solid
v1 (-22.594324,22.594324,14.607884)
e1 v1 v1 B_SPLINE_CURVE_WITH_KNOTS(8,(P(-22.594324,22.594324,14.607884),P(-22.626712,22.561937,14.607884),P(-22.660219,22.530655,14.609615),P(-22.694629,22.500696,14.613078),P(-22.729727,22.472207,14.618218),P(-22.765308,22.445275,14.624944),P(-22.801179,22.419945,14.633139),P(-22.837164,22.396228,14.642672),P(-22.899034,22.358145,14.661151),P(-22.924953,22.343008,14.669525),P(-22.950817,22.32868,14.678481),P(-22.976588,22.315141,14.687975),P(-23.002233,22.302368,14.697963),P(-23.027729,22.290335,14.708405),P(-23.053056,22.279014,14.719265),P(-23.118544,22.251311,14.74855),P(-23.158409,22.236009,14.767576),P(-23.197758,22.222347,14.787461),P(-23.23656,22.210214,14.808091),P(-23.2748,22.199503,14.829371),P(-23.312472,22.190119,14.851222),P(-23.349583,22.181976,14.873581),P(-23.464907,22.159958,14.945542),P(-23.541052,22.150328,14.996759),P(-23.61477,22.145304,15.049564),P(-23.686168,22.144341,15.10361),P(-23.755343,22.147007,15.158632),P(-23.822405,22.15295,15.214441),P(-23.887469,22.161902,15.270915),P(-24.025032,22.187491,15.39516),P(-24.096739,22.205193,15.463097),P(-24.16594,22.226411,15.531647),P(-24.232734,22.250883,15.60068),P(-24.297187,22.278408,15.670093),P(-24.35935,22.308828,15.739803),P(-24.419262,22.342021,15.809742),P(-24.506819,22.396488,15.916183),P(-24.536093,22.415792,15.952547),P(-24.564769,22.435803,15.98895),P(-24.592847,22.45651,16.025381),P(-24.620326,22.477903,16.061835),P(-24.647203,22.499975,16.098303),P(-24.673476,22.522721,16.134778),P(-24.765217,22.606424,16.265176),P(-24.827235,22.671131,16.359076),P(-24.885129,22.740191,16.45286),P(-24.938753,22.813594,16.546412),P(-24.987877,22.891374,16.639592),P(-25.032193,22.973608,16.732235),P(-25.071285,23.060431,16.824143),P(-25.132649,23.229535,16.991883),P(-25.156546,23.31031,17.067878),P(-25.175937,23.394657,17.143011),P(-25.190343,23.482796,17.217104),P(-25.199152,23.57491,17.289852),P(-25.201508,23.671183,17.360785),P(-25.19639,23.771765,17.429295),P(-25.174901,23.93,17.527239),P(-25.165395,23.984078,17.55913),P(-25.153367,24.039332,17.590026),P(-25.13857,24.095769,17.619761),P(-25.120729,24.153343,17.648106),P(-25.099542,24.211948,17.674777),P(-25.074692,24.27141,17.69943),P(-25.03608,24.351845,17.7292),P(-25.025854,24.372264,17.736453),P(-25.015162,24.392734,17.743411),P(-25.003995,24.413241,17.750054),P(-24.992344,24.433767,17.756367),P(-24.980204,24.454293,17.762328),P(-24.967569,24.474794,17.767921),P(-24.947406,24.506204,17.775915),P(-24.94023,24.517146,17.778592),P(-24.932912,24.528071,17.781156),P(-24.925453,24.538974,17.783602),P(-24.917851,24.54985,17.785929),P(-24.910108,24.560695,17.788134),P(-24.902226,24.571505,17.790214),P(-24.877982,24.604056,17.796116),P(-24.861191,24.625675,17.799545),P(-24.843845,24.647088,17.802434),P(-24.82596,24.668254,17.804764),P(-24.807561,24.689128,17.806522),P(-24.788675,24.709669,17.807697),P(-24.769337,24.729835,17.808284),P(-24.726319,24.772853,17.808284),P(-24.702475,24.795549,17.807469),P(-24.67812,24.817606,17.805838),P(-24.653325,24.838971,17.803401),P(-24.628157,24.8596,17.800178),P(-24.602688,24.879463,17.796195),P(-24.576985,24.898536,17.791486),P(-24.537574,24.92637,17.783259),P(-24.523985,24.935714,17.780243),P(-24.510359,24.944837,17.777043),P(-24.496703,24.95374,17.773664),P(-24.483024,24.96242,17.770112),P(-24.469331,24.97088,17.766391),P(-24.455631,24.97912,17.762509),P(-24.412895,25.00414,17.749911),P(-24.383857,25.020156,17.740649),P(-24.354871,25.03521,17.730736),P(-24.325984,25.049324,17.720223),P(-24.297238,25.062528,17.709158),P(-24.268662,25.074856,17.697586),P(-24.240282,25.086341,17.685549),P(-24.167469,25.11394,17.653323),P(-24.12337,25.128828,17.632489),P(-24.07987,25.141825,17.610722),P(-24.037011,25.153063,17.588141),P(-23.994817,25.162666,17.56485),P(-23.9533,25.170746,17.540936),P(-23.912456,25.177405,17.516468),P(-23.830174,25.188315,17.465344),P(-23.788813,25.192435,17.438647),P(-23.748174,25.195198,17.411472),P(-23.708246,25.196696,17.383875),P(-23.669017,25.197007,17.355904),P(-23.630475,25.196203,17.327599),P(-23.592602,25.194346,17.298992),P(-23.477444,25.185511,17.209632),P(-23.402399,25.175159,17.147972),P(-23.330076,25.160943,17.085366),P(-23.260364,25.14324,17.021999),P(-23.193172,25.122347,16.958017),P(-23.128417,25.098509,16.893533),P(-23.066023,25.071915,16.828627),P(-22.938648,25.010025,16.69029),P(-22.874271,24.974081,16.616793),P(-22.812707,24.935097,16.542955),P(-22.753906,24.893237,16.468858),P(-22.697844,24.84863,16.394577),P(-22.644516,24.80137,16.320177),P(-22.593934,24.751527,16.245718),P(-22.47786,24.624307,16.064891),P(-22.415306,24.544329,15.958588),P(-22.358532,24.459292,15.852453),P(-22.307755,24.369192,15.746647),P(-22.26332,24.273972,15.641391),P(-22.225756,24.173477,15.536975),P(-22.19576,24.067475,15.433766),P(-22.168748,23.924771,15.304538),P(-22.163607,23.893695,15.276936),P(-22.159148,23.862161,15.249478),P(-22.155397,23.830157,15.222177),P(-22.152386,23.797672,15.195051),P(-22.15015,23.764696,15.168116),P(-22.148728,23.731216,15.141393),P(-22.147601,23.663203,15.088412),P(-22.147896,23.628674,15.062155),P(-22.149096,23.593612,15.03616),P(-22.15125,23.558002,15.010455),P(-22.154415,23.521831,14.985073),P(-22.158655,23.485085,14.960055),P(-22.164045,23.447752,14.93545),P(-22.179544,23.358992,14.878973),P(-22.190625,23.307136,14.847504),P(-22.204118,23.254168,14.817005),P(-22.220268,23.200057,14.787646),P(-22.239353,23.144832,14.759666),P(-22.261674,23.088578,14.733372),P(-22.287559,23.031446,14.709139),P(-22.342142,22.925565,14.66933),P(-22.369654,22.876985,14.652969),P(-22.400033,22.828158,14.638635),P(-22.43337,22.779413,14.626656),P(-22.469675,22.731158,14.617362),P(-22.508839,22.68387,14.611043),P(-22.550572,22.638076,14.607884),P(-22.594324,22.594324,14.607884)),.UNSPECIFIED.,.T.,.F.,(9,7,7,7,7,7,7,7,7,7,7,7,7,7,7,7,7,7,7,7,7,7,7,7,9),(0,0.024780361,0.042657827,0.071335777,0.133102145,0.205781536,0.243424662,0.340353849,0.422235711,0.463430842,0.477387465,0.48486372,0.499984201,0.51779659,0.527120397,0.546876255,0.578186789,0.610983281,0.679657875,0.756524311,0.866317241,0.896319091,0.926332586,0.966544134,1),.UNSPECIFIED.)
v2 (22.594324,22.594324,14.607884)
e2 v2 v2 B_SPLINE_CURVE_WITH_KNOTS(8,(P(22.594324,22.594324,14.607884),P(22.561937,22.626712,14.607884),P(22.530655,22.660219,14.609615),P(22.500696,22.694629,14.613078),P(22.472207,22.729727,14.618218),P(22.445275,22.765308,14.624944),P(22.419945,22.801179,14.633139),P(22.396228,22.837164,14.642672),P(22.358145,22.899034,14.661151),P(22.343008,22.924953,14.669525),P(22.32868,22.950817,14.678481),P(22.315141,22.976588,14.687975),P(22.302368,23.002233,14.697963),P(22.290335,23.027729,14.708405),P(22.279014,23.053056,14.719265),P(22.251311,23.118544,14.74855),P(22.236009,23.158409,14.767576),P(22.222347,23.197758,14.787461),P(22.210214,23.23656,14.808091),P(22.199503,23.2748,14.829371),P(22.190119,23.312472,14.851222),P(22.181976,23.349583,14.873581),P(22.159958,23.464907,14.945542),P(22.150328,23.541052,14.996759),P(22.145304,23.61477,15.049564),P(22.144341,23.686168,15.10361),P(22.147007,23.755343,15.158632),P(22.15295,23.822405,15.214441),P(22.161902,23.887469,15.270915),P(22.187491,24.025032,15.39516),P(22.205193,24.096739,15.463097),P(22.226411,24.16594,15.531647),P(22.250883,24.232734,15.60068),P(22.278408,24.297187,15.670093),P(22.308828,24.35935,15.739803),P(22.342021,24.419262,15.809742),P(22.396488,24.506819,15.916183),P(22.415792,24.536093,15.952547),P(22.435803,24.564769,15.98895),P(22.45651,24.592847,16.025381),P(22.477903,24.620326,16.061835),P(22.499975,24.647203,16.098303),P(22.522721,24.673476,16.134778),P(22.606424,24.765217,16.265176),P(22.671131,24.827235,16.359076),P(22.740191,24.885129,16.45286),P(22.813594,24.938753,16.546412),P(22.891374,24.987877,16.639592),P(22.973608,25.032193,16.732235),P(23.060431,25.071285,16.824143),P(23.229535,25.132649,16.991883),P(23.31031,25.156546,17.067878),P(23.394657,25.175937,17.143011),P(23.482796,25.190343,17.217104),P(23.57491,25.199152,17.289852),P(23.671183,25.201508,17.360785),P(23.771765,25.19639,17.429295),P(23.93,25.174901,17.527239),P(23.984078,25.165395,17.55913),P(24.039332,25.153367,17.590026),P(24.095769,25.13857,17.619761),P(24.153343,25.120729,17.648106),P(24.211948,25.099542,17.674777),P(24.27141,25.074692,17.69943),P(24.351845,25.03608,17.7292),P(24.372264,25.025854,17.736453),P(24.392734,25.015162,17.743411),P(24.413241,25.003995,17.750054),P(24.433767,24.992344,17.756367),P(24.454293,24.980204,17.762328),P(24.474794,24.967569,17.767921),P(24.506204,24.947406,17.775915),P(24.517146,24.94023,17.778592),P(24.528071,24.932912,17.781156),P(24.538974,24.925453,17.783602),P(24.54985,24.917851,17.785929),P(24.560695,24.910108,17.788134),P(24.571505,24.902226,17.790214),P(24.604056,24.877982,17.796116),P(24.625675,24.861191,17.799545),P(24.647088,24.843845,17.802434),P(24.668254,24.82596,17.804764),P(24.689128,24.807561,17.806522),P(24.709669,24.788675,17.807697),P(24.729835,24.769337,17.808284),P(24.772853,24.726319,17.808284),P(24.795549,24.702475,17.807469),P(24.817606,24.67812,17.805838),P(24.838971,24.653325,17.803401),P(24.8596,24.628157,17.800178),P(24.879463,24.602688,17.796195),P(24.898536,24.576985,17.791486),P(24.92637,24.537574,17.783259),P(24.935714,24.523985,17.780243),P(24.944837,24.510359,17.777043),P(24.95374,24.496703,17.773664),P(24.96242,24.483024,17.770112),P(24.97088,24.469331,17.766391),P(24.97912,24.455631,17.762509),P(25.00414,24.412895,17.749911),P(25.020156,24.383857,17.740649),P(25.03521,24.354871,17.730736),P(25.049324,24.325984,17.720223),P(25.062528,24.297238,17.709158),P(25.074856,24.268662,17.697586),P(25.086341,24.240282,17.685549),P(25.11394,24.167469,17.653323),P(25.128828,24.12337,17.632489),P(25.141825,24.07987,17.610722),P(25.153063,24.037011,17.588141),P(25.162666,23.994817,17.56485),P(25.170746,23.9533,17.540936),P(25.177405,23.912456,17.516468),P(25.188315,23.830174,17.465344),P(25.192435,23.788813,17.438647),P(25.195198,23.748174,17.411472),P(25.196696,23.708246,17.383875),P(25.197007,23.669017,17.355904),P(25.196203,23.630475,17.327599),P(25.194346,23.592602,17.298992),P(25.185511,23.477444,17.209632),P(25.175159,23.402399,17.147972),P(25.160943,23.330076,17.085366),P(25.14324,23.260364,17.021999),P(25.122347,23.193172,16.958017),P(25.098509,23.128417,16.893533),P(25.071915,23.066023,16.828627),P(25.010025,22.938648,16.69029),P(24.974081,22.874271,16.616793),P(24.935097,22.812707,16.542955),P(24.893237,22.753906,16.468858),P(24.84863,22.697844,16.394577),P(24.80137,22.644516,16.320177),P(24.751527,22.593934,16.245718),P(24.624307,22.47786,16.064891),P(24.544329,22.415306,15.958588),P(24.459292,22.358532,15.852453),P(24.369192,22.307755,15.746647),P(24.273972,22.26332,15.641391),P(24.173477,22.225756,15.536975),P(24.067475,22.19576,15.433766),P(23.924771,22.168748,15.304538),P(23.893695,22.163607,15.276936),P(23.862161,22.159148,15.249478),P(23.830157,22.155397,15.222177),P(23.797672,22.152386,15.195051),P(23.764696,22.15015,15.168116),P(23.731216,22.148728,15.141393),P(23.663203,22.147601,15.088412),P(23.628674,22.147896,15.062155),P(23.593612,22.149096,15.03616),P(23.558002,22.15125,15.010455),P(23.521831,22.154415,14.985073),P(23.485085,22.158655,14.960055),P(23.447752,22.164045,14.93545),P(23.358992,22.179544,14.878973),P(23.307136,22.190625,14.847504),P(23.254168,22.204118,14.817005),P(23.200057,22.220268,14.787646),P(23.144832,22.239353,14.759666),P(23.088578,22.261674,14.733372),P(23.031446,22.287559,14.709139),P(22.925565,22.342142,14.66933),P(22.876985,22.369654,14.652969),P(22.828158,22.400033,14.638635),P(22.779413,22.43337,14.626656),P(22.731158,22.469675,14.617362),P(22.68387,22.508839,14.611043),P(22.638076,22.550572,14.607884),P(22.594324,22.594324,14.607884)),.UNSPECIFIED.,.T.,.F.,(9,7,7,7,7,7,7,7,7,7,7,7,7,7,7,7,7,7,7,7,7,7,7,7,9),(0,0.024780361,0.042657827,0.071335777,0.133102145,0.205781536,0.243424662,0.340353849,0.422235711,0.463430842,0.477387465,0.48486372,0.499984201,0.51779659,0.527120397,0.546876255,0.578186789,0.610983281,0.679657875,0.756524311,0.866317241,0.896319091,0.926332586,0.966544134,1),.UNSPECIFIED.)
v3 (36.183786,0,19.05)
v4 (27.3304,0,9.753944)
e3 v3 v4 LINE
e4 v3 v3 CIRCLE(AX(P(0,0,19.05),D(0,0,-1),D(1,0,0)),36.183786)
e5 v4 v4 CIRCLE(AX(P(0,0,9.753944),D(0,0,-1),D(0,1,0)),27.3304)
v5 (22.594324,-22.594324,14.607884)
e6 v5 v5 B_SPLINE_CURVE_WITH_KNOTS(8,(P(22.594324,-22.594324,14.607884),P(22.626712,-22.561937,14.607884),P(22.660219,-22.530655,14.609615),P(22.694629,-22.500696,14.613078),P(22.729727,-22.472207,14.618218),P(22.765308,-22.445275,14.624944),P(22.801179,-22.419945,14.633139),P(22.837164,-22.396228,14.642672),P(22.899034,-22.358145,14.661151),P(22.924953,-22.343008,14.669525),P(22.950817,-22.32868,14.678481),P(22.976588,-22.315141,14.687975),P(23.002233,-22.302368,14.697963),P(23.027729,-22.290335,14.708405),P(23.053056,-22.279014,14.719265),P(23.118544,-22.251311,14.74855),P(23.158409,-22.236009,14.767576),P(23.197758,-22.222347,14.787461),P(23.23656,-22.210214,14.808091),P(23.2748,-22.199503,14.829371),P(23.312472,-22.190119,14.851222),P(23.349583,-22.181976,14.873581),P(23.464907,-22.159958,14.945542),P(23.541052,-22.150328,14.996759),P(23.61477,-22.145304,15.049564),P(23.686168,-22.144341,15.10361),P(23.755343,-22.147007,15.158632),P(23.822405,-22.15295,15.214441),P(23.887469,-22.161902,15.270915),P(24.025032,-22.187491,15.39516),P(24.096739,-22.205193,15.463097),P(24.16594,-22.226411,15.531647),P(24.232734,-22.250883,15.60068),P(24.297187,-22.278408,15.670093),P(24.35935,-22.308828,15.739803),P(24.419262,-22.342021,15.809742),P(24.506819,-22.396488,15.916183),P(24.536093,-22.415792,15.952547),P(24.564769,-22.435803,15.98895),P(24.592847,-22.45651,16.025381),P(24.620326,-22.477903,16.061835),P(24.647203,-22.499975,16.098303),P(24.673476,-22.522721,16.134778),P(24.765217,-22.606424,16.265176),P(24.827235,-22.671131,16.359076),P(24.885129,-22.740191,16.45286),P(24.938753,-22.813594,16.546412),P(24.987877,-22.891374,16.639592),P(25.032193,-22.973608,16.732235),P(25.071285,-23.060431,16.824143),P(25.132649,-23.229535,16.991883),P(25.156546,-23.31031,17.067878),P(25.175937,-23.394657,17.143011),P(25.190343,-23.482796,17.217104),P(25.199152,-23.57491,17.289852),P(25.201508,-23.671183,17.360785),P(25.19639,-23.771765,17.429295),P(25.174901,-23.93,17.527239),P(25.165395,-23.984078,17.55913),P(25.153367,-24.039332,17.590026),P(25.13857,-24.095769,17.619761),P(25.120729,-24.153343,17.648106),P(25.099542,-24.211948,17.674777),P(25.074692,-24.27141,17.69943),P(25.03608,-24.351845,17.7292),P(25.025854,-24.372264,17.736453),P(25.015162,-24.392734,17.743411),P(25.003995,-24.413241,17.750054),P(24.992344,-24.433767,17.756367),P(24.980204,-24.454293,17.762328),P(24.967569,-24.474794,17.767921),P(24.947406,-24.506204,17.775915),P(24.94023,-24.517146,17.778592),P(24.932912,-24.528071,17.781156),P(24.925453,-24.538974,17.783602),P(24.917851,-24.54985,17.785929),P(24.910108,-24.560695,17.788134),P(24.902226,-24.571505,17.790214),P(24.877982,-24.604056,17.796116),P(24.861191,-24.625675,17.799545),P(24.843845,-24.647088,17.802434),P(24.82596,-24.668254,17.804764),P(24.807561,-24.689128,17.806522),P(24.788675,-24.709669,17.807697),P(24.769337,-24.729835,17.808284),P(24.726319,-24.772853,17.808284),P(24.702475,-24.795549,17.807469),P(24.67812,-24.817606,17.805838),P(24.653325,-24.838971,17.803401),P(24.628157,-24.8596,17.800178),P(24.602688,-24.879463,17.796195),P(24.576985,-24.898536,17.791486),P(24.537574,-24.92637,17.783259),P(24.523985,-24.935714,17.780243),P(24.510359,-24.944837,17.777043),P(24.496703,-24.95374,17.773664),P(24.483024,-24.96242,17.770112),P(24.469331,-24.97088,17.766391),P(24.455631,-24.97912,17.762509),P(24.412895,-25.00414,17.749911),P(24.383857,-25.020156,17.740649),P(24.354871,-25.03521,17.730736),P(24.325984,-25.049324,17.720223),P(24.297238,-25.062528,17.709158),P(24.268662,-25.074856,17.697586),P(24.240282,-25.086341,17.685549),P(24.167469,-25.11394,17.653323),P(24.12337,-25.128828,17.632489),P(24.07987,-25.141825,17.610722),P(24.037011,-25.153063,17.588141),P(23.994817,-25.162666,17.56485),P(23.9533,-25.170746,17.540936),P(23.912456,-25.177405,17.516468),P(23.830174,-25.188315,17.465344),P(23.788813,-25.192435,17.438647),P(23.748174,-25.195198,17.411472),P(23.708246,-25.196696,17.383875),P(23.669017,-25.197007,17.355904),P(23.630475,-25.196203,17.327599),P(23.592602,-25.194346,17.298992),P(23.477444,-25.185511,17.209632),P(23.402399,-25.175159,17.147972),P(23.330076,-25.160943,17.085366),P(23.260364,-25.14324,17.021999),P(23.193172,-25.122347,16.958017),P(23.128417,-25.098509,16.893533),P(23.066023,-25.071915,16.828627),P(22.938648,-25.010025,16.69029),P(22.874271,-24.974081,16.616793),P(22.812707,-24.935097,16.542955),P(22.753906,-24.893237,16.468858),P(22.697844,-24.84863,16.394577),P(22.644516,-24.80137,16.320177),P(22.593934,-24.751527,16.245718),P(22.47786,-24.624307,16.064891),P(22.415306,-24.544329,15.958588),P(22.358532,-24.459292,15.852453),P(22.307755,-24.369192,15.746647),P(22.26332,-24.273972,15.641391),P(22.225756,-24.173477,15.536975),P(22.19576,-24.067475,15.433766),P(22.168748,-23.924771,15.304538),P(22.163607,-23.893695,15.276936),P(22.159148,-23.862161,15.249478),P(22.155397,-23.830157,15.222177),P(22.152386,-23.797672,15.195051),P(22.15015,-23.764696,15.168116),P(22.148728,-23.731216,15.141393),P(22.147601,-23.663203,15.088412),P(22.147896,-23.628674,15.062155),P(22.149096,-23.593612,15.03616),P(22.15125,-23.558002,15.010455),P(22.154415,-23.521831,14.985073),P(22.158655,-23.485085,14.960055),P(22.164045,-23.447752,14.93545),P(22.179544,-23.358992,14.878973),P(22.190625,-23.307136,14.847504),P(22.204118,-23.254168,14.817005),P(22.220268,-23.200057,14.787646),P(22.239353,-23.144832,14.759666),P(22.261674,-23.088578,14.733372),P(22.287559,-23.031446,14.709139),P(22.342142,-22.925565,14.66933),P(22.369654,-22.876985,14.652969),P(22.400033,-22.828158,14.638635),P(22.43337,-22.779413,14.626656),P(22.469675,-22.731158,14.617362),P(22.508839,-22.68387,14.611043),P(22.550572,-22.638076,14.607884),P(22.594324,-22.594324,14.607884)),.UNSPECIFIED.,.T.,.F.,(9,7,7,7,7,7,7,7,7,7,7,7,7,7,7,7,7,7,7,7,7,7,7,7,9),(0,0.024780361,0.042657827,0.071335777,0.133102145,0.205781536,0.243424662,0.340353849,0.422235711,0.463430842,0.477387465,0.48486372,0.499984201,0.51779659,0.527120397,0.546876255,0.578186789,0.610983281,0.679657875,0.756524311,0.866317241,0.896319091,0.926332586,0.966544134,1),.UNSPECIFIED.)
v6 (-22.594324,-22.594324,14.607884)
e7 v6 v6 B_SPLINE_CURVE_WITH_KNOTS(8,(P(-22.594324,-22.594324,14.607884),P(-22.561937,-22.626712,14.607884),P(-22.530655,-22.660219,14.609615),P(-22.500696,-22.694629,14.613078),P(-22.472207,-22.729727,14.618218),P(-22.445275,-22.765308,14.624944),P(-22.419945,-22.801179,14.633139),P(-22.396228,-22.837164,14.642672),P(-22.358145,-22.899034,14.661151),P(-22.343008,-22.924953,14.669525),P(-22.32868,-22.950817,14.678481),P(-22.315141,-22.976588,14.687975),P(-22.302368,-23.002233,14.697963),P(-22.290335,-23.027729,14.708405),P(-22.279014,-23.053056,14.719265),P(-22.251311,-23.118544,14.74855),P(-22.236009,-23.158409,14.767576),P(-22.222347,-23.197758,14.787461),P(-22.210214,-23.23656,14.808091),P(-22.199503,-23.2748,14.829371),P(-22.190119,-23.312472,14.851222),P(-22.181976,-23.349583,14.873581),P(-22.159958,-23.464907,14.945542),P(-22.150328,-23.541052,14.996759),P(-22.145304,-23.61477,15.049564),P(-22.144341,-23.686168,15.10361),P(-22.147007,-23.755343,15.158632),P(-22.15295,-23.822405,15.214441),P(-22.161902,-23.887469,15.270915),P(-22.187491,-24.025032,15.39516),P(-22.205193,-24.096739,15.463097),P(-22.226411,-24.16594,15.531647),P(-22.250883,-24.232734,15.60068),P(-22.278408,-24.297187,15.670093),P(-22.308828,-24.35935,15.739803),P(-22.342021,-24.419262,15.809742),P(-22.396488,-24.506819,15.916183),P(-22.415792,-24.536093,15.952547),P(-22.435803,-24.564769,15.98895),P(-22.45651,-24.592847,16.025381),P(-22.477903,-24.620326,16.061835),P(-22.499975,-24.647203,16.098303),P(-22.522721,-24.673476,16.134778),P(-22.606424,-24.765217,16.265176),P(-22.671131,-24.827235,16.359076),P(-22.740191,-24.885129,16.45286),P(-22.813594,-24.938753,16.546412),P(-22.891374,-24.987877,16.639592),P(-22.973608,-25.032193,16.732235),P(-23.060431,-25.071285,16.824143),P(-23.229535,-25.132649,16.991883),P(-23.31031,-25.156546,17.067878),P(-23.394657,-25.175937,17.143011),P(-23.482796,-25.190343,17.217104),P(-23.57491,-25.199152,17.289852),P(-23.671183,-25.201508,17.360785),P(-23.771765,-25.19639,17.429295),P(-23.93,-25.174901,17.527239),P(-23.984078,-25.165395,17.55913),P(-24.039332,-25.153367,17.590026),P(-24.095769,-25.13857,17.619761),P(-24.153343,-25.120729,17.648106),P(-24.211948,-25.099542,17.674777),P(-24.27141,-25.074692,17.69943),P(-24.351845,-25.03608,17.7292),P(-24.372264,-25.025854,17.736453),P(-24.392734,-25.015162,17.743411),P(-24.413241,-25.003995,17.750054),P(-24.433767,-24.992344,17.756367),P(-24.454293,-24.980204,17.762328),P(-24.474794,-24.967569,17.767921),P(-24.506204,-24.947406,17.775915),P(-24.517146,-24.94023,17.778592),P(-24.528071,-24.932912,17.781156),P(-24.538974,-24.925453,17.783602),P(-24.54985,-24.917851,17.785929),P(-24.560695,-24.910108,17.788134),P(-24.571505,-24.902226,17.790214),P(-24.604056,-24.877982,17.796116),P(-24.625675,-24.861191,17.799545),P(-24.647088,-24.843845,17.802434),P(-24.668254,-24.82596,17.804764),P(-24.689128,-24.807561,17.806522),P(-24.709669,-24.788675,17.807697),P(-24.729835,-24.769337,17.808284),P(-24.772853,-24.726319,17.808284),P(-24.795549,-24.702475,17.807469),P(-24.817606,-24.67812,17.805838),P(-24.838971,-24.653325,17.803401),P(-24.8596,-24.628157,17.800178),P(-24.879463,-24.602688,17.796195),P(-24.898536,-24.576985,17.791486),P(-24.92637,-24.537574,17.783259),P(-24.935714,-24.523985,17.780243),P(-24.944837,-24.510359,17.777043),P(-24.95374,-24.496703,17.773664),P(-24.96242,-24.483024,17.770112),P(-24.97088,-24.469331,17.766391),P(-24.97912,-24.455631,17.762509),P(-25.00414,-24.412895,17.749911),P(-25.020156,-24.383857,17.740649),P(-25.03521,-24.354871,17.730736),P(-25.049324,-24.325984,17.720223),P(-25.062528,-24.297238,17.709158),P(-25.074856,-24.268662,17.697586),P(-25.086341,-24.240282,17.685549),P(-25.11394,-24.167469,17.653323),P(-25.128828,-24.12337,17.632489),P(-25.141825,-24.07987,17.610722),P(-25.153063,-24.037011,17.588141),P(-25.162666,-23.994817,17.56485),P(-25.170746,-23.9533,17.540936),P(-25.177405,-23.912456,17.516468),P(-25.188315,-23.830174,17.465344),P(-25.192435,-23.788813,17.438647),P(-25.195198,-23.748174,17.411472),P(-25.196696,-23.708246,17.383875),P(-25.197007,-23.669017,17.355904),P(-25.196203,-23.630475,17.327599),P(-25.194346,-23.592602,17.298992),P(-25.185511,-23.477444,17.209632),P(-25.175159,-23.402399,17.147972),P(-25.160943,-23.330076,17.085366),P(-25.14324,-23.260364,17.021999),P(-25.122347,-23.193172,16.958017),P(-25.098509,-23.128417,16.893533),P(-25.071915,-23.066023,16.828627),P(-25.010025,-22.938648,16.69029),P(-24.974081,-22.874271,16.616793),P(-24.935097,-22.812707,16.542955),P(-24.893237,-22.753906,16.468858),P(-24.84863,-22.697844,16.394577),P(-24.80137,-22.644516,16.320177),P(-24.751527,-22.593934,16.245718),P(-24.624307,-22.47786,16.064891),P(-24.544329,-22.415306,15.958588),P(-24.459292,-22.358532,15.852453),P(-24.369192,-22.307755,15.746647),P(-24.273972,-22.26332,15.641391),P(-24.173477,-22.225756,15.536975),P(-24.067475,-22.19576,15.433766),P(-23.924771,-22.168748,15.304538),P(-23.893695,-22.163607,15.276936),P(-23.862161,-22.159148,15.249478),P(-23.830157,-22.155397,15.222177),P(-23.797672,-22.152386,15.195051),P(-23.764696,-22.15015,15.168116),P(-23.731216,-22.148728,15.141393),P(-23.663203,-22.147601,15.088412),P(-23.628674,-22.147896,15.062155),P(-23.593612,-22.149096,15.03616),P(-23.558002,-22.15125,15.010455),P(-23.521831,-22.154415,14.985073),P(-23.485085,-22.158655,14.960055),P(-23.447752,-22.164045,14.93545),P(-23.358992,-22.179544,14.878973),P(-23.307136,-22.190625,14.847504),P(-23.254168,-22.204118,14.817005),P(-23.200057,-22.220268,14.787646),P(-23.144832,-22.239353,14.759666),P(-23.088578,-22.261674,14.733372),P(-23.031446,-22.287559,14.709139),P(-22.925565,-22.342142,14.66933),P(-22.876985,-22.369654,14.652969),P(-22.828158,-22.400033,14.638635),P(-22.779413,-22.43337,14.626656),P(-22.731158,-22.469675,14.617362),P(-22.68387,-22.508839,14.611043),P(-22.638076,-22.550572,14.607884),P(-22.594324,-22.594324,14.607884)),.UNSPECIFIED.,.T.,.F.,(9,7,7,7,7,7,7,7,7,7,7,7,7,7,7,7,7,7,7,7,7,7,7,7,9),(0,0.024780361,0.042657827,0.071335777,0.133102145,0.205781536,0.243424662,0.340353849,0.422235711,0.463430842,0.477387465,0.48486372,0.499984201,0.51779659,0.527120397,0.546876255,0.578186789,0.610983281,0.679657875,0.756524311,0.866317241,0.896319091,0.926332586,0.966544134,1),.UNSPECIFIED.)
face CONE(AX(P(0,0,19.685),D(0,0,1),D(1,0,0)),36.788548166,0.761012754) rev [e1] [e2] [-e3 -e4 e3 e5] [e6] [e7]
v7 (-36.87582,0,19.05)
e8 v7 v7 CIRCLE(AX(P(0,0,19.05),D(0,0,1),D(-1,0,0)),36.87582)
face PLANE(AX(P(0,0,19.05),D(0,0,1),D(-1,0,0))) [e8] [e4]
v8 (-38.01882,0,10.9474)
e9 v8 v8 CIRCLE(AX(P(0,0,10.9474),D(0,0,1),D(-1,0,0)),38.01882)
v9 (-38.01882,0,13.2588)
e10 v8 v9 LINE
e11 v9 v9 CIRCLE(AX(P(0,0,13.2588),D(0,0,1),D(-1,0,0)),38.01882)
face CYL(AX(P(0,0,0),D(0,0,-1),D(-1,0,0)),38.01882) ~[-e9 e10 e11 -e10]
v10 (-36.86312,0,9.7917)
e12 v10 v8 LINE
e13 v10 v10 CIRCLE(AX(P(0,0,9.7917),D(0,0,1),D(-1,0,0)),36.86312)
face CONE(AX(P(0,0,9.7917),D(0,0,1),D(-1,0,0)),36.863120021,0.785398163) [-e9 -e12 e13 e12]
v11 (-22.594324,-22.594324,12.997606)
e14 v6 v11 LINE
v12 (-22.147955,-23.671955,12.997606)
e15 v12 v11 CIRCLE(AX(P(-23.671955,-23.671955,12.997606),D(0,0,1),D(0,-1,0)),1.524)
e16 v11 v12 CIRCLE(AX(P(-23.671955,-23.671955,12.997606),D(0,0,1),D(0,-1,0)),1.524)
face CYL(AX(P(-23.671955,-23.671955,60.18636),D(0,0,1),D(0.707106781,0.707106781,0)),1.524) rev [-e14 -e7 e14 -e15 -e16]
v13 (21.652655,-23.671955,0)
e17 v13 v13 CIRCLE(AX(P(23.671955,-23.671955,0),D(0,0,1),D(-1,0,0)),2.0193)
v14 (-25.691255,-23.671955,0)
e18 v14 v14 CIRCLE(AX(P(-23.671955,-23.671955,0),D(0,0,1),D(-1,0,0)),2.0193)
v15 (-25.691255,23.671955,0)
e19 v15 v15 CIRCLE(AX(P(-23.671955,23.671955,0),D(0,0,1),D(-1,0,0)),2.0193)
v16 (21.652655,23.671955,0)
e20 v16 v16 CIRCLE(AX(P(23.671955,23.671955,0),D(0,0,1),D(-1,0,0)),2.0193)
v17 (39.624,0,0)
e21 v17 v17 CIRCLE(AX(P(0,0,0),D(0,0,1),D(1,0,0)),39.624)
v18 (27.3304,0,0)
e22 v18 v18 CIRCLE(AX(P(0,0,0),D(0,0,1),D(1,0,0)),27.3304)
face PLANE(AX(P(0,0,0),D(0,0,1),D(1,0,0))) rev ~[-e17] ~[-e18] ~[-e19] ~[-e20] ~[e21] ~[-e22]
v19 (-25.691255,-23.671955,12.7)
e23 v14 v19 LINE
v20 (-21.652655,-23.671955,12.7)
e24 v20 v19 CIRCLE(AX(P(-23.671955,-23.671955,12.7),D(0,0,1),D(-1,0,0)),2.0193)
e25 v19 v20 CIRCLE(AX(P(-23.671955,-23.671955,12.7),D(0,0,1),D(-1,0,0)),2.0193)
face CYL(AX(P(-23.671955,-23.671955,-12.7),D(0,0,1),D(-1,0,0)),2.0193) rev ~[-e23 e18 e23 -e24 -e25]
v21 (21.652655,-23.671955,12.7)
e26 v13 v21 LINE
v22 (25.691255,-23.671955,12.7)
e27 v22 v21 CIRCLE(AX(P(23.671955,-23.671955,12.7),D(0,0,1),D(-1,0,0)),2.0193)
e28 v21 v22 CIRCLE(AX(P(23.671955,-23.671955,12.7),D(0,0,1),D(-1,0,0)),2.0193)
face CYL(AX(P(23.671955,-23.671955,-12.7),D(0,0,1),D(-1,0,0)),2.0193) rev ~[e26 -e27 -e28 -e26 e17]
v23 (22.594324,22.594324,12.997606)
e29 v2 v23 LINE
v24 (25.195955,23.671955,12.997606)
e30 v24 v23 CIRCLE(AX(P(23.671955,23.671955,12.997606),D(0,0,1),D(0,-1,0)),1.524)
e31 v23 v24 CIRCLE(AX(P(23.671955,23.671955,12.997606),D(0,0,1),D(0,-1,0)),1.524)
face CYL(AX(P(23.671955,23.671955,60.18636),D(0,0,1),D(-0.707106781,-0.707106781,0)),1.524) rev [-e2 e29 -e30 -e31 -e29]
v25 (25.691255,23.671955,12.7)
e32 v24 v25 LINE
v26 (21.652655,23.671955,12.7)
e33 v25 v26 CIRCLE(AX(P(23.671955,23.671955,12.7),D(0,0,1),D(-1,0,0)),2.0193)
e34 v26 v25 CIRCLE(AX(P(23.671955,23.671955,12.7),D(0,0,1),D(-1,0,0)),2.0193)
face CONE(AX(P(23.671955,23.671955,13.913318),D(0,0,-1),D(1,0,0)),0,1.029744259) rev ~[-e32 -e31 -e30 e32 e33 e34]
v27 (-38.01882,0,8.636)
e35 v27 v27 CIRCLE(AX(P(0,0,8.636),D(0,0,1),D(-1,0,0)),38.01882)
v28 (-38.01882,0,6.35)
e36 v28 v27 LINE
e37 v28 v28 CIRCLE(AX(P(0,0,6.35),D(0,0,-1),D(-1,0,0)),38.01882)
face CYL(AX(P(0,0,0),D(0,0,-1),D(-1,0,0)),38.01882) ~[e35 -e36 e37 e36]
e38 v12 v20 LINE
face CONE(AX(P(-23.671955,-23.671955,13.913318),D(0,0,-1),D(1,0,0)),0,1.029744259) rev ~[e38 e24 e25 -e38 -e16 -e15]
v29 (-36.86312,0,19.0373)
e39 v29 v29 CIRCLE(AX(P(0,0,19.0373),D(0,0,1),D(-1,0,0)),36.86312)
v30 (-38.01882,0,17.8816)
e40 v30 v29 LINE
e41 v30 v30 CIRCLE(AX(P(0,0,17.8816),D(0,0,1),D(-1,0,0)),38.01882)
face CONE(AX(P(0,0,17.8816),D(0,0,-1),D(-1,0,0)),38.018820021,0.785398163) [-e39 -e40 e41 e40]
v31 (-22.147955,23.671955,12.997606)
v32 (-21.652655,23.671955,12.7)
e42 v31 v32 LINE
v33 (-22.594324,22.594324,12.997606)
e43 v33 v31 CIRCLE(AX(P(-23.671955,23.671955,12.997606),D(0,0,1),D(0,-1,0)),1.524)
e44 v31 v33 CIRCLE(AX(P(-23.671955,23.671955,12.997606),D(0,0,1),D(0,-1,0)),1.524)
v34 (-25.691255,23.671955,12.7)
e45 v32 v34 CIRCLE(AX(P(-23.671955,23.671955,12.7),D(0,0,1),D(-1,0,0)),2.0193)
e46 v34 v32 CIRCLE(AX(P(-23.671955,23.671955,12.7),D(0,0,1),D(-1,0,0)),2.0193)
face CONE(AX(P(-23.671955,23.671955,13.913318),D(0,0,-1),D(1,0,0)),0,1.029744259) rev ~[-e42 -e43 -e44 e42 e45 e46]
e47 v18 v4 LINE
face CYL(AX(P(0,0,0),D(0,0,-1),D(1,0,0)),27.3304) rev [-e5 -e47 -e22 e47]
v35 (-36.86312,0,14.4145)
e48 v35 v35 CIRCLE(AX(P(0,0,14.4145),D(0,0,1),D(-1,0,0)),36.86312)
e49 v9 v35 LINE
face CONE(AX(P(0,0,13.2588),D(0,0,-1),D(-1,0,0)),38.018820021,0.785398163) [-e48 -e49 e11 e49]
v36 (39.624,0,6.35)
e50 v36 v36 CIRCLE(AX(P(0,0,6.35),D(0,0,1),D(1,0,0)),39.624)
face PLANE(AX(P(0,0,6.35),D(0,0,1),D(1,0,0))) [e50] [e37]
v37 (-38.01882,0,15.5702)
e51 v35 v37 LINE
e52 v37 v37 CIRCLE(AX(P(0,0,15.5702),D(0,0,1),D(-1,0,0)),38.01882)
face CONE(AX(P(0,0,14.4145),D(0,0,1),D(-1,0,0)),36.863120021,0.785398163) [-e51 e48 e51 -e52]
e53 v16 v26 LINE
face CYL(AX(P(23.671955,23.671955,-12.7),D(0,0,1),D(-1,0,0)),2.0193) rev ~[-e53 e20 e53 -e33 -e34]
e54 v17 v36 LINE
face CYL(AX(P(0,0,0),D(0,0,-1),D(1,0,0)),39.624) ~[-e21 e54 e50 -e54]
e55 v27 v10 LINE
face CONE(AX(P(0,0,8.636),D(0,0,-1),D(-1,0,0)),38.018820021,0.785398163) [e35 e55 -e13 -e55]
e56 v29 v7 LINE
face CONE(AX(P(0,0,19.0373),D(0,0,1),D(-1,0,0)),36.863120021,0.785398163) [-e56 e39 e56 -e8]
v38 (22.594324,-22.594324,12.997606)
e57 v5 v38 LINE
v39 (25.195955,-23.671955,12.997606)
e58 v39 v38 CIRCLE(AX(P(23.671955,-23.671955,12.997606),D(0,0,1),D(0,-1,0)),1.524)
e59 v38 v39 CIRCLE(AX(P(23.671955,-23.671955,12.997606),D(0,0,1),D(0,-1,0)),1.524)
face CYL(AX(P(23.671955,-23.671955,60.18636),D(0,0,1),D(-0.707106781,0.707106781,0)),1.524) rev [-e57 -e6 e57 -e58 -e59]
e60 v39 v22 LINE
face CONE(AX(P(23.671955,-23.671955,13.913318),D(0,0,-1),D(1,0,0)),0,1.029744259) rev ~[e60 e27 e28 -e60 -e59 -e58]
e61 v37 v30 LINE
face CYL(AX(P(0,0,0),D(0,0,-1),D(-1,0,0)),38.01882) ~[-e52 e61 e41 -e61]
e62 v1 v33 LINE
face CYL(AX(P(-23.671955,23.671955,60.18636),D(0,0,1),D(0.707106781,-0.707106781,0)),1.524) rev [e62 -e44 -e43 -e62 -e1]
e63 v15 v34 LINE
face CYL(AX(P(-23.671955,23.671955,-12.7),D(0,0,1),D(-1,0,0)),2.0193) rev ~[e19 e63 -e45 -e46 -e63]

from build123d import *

# Parameters (mm, degrees)
SKETCH2_R                  = 39.624
SKETCH2_R_2                = 27.3304
BOSS_EXTRUDE2_DEPTH        = 6.35
SKETCH5_R                  = 38.018820021
SKETCH5_R_2                = 27.3304
BOSS_EXTRUDE3_DEPTH        = 19.05
F_10_32_TAPPED_HOLE1_D     = 4.0386
F_10_32_TAPPED_HOLE1_DEPTH = 12.7
F_10_32_TAPPED_HOLE1_TIP   = 1.213317848
CUT_EXTRUDE2_DEPTH         = 60.186360354
CUT_EXTRUDE2_DEPTH_BACK    = 60.186360354
SKETCH16_R                 = 1.524


with BuildPart() as part:
    # Sketch2 → Boss-Extrude2 (new body)
    with BuildSketch(Plane.XY):
        Circle(SKETCH2_R)
        Circle(SKETCH2_R_2, mode=Mode.SUBTRACT)
    extrude(amount=BOSS_EXTRUDE2_DEPTH)

    # Sketch5 → Boss-Extrude3 (add)
    with BuildSketch(Plane.XY):
        Circle(SKETCH5_R)
        Circle(SKETCH5_R_2, mode=Mode.SUBTRACT)
    extrude(amount=BOSS_EXTRUDE3_DEPTH)

    # Sketch10 → Cut-Revolve2 (revolve, cut)
    with BuildSketch(Plane(origin=(0, 0, 0), x_dir=(0, 0, -1), z_dir=(1, 0, 0))):
        Polygon((-29.4386, 38.018820021), (-27.1272, 38.018820021), (-28.2829, 36.863120021), align=None)
        Polygon((-24.8158, 38.018820021), (-22.5044, 38.018820021), (-23.6601, 36.863120021), align=None)
        Polygon((-20.193, 38.018820021), (-17.8816, 38.018820021), (-19.0373, 36.863120021), align=None)
        Polygon((-15.5702, 38.018820021), (-13.2588, 38.018820021), (-14.4145, 36.863120021), align=None)
        Polygon((-10.9474, 38.018820021), (-8.636, 38.018820021), (-9.7917, 36.863120021), align=None)
    revolve(axis=Axis((0, 0, 50.084179241), (0, 0, 1)), mode=Mode.SUBTRACT)

    # Sketch11 → Cut-Revolve3 (revolve, cut)
    with BuildSketch(Plane(origin=(0, 0, 0), x_dir=(0, 0, -1), z_dir=(1, 0, 0))):
        Polygon((-19.685, 36.788548166), (-6.35, 24.088548166), (-19.685, 24.088548166), align=None)
    revolve(axis=Axis((0, 0, 43.100386529), (0, 0, 1)), mode=Mode.SUBTRACT)

    # #10-32 Tapped Hole1
    with Locations(Plane(origin=(0, 0, 0), x_dir=(1, 0, 0), z_dir=(0, 0, -1))):
        with Locations((23.671955135, 23.671955135), (0, 0), (23.671955135, -23.671955135), (-23.671955135, 23.671955135), (-23.671955135, -23.671955135)):
            Hole(F_10_32_TAPPED_HOLE1_D / 2, depth=F_10_32_TAPPED_HOLE1_DEPTH)
            with Locations((0, 0, -(F_10_32_TAPPED_HOLE1_DEPTH + F_10_32_TAPPED_HOLE1_TIP / 2))):  # 118° drill point
                Cone(0, F_10_32_TAPPED_HOLE1_D / 2, F_10_32_TAPPED_HOLE1_TIP, mode=Mode.SUBTRACT)

    # Sketch16 → Cut-Extrude2 (cut, two sides: drawn at the far end of the back side and taken through both)
    with BuildSketch(Plane(origin=(0, 0, 0), x_dir=(-1, 0, 0), z_dir=(0, 0, -1)).offset(-CUT_EXTRUDE2_DEPTH_BACK)):
        with Locations((23.671955135, 23.671955135)):
            Circle(SKETCH16_R)
        with Locations((-23.671955135, 23.671955135)):
            Circle(SKETCH16_R)
        with Locations((-23.671955135, -23.671955135)):
            Circle(SKETCH16_R)
        with Locations((23.671955135, -23.671955135)):
            Circle(SKETCH16_R)
    extrude(amount=CUT_EXTRUDE2_DEPTH + CUT_EXTRUDE2_DEPTH_BACK, mode=Mode.SUBTRACT)


solid = part.part
